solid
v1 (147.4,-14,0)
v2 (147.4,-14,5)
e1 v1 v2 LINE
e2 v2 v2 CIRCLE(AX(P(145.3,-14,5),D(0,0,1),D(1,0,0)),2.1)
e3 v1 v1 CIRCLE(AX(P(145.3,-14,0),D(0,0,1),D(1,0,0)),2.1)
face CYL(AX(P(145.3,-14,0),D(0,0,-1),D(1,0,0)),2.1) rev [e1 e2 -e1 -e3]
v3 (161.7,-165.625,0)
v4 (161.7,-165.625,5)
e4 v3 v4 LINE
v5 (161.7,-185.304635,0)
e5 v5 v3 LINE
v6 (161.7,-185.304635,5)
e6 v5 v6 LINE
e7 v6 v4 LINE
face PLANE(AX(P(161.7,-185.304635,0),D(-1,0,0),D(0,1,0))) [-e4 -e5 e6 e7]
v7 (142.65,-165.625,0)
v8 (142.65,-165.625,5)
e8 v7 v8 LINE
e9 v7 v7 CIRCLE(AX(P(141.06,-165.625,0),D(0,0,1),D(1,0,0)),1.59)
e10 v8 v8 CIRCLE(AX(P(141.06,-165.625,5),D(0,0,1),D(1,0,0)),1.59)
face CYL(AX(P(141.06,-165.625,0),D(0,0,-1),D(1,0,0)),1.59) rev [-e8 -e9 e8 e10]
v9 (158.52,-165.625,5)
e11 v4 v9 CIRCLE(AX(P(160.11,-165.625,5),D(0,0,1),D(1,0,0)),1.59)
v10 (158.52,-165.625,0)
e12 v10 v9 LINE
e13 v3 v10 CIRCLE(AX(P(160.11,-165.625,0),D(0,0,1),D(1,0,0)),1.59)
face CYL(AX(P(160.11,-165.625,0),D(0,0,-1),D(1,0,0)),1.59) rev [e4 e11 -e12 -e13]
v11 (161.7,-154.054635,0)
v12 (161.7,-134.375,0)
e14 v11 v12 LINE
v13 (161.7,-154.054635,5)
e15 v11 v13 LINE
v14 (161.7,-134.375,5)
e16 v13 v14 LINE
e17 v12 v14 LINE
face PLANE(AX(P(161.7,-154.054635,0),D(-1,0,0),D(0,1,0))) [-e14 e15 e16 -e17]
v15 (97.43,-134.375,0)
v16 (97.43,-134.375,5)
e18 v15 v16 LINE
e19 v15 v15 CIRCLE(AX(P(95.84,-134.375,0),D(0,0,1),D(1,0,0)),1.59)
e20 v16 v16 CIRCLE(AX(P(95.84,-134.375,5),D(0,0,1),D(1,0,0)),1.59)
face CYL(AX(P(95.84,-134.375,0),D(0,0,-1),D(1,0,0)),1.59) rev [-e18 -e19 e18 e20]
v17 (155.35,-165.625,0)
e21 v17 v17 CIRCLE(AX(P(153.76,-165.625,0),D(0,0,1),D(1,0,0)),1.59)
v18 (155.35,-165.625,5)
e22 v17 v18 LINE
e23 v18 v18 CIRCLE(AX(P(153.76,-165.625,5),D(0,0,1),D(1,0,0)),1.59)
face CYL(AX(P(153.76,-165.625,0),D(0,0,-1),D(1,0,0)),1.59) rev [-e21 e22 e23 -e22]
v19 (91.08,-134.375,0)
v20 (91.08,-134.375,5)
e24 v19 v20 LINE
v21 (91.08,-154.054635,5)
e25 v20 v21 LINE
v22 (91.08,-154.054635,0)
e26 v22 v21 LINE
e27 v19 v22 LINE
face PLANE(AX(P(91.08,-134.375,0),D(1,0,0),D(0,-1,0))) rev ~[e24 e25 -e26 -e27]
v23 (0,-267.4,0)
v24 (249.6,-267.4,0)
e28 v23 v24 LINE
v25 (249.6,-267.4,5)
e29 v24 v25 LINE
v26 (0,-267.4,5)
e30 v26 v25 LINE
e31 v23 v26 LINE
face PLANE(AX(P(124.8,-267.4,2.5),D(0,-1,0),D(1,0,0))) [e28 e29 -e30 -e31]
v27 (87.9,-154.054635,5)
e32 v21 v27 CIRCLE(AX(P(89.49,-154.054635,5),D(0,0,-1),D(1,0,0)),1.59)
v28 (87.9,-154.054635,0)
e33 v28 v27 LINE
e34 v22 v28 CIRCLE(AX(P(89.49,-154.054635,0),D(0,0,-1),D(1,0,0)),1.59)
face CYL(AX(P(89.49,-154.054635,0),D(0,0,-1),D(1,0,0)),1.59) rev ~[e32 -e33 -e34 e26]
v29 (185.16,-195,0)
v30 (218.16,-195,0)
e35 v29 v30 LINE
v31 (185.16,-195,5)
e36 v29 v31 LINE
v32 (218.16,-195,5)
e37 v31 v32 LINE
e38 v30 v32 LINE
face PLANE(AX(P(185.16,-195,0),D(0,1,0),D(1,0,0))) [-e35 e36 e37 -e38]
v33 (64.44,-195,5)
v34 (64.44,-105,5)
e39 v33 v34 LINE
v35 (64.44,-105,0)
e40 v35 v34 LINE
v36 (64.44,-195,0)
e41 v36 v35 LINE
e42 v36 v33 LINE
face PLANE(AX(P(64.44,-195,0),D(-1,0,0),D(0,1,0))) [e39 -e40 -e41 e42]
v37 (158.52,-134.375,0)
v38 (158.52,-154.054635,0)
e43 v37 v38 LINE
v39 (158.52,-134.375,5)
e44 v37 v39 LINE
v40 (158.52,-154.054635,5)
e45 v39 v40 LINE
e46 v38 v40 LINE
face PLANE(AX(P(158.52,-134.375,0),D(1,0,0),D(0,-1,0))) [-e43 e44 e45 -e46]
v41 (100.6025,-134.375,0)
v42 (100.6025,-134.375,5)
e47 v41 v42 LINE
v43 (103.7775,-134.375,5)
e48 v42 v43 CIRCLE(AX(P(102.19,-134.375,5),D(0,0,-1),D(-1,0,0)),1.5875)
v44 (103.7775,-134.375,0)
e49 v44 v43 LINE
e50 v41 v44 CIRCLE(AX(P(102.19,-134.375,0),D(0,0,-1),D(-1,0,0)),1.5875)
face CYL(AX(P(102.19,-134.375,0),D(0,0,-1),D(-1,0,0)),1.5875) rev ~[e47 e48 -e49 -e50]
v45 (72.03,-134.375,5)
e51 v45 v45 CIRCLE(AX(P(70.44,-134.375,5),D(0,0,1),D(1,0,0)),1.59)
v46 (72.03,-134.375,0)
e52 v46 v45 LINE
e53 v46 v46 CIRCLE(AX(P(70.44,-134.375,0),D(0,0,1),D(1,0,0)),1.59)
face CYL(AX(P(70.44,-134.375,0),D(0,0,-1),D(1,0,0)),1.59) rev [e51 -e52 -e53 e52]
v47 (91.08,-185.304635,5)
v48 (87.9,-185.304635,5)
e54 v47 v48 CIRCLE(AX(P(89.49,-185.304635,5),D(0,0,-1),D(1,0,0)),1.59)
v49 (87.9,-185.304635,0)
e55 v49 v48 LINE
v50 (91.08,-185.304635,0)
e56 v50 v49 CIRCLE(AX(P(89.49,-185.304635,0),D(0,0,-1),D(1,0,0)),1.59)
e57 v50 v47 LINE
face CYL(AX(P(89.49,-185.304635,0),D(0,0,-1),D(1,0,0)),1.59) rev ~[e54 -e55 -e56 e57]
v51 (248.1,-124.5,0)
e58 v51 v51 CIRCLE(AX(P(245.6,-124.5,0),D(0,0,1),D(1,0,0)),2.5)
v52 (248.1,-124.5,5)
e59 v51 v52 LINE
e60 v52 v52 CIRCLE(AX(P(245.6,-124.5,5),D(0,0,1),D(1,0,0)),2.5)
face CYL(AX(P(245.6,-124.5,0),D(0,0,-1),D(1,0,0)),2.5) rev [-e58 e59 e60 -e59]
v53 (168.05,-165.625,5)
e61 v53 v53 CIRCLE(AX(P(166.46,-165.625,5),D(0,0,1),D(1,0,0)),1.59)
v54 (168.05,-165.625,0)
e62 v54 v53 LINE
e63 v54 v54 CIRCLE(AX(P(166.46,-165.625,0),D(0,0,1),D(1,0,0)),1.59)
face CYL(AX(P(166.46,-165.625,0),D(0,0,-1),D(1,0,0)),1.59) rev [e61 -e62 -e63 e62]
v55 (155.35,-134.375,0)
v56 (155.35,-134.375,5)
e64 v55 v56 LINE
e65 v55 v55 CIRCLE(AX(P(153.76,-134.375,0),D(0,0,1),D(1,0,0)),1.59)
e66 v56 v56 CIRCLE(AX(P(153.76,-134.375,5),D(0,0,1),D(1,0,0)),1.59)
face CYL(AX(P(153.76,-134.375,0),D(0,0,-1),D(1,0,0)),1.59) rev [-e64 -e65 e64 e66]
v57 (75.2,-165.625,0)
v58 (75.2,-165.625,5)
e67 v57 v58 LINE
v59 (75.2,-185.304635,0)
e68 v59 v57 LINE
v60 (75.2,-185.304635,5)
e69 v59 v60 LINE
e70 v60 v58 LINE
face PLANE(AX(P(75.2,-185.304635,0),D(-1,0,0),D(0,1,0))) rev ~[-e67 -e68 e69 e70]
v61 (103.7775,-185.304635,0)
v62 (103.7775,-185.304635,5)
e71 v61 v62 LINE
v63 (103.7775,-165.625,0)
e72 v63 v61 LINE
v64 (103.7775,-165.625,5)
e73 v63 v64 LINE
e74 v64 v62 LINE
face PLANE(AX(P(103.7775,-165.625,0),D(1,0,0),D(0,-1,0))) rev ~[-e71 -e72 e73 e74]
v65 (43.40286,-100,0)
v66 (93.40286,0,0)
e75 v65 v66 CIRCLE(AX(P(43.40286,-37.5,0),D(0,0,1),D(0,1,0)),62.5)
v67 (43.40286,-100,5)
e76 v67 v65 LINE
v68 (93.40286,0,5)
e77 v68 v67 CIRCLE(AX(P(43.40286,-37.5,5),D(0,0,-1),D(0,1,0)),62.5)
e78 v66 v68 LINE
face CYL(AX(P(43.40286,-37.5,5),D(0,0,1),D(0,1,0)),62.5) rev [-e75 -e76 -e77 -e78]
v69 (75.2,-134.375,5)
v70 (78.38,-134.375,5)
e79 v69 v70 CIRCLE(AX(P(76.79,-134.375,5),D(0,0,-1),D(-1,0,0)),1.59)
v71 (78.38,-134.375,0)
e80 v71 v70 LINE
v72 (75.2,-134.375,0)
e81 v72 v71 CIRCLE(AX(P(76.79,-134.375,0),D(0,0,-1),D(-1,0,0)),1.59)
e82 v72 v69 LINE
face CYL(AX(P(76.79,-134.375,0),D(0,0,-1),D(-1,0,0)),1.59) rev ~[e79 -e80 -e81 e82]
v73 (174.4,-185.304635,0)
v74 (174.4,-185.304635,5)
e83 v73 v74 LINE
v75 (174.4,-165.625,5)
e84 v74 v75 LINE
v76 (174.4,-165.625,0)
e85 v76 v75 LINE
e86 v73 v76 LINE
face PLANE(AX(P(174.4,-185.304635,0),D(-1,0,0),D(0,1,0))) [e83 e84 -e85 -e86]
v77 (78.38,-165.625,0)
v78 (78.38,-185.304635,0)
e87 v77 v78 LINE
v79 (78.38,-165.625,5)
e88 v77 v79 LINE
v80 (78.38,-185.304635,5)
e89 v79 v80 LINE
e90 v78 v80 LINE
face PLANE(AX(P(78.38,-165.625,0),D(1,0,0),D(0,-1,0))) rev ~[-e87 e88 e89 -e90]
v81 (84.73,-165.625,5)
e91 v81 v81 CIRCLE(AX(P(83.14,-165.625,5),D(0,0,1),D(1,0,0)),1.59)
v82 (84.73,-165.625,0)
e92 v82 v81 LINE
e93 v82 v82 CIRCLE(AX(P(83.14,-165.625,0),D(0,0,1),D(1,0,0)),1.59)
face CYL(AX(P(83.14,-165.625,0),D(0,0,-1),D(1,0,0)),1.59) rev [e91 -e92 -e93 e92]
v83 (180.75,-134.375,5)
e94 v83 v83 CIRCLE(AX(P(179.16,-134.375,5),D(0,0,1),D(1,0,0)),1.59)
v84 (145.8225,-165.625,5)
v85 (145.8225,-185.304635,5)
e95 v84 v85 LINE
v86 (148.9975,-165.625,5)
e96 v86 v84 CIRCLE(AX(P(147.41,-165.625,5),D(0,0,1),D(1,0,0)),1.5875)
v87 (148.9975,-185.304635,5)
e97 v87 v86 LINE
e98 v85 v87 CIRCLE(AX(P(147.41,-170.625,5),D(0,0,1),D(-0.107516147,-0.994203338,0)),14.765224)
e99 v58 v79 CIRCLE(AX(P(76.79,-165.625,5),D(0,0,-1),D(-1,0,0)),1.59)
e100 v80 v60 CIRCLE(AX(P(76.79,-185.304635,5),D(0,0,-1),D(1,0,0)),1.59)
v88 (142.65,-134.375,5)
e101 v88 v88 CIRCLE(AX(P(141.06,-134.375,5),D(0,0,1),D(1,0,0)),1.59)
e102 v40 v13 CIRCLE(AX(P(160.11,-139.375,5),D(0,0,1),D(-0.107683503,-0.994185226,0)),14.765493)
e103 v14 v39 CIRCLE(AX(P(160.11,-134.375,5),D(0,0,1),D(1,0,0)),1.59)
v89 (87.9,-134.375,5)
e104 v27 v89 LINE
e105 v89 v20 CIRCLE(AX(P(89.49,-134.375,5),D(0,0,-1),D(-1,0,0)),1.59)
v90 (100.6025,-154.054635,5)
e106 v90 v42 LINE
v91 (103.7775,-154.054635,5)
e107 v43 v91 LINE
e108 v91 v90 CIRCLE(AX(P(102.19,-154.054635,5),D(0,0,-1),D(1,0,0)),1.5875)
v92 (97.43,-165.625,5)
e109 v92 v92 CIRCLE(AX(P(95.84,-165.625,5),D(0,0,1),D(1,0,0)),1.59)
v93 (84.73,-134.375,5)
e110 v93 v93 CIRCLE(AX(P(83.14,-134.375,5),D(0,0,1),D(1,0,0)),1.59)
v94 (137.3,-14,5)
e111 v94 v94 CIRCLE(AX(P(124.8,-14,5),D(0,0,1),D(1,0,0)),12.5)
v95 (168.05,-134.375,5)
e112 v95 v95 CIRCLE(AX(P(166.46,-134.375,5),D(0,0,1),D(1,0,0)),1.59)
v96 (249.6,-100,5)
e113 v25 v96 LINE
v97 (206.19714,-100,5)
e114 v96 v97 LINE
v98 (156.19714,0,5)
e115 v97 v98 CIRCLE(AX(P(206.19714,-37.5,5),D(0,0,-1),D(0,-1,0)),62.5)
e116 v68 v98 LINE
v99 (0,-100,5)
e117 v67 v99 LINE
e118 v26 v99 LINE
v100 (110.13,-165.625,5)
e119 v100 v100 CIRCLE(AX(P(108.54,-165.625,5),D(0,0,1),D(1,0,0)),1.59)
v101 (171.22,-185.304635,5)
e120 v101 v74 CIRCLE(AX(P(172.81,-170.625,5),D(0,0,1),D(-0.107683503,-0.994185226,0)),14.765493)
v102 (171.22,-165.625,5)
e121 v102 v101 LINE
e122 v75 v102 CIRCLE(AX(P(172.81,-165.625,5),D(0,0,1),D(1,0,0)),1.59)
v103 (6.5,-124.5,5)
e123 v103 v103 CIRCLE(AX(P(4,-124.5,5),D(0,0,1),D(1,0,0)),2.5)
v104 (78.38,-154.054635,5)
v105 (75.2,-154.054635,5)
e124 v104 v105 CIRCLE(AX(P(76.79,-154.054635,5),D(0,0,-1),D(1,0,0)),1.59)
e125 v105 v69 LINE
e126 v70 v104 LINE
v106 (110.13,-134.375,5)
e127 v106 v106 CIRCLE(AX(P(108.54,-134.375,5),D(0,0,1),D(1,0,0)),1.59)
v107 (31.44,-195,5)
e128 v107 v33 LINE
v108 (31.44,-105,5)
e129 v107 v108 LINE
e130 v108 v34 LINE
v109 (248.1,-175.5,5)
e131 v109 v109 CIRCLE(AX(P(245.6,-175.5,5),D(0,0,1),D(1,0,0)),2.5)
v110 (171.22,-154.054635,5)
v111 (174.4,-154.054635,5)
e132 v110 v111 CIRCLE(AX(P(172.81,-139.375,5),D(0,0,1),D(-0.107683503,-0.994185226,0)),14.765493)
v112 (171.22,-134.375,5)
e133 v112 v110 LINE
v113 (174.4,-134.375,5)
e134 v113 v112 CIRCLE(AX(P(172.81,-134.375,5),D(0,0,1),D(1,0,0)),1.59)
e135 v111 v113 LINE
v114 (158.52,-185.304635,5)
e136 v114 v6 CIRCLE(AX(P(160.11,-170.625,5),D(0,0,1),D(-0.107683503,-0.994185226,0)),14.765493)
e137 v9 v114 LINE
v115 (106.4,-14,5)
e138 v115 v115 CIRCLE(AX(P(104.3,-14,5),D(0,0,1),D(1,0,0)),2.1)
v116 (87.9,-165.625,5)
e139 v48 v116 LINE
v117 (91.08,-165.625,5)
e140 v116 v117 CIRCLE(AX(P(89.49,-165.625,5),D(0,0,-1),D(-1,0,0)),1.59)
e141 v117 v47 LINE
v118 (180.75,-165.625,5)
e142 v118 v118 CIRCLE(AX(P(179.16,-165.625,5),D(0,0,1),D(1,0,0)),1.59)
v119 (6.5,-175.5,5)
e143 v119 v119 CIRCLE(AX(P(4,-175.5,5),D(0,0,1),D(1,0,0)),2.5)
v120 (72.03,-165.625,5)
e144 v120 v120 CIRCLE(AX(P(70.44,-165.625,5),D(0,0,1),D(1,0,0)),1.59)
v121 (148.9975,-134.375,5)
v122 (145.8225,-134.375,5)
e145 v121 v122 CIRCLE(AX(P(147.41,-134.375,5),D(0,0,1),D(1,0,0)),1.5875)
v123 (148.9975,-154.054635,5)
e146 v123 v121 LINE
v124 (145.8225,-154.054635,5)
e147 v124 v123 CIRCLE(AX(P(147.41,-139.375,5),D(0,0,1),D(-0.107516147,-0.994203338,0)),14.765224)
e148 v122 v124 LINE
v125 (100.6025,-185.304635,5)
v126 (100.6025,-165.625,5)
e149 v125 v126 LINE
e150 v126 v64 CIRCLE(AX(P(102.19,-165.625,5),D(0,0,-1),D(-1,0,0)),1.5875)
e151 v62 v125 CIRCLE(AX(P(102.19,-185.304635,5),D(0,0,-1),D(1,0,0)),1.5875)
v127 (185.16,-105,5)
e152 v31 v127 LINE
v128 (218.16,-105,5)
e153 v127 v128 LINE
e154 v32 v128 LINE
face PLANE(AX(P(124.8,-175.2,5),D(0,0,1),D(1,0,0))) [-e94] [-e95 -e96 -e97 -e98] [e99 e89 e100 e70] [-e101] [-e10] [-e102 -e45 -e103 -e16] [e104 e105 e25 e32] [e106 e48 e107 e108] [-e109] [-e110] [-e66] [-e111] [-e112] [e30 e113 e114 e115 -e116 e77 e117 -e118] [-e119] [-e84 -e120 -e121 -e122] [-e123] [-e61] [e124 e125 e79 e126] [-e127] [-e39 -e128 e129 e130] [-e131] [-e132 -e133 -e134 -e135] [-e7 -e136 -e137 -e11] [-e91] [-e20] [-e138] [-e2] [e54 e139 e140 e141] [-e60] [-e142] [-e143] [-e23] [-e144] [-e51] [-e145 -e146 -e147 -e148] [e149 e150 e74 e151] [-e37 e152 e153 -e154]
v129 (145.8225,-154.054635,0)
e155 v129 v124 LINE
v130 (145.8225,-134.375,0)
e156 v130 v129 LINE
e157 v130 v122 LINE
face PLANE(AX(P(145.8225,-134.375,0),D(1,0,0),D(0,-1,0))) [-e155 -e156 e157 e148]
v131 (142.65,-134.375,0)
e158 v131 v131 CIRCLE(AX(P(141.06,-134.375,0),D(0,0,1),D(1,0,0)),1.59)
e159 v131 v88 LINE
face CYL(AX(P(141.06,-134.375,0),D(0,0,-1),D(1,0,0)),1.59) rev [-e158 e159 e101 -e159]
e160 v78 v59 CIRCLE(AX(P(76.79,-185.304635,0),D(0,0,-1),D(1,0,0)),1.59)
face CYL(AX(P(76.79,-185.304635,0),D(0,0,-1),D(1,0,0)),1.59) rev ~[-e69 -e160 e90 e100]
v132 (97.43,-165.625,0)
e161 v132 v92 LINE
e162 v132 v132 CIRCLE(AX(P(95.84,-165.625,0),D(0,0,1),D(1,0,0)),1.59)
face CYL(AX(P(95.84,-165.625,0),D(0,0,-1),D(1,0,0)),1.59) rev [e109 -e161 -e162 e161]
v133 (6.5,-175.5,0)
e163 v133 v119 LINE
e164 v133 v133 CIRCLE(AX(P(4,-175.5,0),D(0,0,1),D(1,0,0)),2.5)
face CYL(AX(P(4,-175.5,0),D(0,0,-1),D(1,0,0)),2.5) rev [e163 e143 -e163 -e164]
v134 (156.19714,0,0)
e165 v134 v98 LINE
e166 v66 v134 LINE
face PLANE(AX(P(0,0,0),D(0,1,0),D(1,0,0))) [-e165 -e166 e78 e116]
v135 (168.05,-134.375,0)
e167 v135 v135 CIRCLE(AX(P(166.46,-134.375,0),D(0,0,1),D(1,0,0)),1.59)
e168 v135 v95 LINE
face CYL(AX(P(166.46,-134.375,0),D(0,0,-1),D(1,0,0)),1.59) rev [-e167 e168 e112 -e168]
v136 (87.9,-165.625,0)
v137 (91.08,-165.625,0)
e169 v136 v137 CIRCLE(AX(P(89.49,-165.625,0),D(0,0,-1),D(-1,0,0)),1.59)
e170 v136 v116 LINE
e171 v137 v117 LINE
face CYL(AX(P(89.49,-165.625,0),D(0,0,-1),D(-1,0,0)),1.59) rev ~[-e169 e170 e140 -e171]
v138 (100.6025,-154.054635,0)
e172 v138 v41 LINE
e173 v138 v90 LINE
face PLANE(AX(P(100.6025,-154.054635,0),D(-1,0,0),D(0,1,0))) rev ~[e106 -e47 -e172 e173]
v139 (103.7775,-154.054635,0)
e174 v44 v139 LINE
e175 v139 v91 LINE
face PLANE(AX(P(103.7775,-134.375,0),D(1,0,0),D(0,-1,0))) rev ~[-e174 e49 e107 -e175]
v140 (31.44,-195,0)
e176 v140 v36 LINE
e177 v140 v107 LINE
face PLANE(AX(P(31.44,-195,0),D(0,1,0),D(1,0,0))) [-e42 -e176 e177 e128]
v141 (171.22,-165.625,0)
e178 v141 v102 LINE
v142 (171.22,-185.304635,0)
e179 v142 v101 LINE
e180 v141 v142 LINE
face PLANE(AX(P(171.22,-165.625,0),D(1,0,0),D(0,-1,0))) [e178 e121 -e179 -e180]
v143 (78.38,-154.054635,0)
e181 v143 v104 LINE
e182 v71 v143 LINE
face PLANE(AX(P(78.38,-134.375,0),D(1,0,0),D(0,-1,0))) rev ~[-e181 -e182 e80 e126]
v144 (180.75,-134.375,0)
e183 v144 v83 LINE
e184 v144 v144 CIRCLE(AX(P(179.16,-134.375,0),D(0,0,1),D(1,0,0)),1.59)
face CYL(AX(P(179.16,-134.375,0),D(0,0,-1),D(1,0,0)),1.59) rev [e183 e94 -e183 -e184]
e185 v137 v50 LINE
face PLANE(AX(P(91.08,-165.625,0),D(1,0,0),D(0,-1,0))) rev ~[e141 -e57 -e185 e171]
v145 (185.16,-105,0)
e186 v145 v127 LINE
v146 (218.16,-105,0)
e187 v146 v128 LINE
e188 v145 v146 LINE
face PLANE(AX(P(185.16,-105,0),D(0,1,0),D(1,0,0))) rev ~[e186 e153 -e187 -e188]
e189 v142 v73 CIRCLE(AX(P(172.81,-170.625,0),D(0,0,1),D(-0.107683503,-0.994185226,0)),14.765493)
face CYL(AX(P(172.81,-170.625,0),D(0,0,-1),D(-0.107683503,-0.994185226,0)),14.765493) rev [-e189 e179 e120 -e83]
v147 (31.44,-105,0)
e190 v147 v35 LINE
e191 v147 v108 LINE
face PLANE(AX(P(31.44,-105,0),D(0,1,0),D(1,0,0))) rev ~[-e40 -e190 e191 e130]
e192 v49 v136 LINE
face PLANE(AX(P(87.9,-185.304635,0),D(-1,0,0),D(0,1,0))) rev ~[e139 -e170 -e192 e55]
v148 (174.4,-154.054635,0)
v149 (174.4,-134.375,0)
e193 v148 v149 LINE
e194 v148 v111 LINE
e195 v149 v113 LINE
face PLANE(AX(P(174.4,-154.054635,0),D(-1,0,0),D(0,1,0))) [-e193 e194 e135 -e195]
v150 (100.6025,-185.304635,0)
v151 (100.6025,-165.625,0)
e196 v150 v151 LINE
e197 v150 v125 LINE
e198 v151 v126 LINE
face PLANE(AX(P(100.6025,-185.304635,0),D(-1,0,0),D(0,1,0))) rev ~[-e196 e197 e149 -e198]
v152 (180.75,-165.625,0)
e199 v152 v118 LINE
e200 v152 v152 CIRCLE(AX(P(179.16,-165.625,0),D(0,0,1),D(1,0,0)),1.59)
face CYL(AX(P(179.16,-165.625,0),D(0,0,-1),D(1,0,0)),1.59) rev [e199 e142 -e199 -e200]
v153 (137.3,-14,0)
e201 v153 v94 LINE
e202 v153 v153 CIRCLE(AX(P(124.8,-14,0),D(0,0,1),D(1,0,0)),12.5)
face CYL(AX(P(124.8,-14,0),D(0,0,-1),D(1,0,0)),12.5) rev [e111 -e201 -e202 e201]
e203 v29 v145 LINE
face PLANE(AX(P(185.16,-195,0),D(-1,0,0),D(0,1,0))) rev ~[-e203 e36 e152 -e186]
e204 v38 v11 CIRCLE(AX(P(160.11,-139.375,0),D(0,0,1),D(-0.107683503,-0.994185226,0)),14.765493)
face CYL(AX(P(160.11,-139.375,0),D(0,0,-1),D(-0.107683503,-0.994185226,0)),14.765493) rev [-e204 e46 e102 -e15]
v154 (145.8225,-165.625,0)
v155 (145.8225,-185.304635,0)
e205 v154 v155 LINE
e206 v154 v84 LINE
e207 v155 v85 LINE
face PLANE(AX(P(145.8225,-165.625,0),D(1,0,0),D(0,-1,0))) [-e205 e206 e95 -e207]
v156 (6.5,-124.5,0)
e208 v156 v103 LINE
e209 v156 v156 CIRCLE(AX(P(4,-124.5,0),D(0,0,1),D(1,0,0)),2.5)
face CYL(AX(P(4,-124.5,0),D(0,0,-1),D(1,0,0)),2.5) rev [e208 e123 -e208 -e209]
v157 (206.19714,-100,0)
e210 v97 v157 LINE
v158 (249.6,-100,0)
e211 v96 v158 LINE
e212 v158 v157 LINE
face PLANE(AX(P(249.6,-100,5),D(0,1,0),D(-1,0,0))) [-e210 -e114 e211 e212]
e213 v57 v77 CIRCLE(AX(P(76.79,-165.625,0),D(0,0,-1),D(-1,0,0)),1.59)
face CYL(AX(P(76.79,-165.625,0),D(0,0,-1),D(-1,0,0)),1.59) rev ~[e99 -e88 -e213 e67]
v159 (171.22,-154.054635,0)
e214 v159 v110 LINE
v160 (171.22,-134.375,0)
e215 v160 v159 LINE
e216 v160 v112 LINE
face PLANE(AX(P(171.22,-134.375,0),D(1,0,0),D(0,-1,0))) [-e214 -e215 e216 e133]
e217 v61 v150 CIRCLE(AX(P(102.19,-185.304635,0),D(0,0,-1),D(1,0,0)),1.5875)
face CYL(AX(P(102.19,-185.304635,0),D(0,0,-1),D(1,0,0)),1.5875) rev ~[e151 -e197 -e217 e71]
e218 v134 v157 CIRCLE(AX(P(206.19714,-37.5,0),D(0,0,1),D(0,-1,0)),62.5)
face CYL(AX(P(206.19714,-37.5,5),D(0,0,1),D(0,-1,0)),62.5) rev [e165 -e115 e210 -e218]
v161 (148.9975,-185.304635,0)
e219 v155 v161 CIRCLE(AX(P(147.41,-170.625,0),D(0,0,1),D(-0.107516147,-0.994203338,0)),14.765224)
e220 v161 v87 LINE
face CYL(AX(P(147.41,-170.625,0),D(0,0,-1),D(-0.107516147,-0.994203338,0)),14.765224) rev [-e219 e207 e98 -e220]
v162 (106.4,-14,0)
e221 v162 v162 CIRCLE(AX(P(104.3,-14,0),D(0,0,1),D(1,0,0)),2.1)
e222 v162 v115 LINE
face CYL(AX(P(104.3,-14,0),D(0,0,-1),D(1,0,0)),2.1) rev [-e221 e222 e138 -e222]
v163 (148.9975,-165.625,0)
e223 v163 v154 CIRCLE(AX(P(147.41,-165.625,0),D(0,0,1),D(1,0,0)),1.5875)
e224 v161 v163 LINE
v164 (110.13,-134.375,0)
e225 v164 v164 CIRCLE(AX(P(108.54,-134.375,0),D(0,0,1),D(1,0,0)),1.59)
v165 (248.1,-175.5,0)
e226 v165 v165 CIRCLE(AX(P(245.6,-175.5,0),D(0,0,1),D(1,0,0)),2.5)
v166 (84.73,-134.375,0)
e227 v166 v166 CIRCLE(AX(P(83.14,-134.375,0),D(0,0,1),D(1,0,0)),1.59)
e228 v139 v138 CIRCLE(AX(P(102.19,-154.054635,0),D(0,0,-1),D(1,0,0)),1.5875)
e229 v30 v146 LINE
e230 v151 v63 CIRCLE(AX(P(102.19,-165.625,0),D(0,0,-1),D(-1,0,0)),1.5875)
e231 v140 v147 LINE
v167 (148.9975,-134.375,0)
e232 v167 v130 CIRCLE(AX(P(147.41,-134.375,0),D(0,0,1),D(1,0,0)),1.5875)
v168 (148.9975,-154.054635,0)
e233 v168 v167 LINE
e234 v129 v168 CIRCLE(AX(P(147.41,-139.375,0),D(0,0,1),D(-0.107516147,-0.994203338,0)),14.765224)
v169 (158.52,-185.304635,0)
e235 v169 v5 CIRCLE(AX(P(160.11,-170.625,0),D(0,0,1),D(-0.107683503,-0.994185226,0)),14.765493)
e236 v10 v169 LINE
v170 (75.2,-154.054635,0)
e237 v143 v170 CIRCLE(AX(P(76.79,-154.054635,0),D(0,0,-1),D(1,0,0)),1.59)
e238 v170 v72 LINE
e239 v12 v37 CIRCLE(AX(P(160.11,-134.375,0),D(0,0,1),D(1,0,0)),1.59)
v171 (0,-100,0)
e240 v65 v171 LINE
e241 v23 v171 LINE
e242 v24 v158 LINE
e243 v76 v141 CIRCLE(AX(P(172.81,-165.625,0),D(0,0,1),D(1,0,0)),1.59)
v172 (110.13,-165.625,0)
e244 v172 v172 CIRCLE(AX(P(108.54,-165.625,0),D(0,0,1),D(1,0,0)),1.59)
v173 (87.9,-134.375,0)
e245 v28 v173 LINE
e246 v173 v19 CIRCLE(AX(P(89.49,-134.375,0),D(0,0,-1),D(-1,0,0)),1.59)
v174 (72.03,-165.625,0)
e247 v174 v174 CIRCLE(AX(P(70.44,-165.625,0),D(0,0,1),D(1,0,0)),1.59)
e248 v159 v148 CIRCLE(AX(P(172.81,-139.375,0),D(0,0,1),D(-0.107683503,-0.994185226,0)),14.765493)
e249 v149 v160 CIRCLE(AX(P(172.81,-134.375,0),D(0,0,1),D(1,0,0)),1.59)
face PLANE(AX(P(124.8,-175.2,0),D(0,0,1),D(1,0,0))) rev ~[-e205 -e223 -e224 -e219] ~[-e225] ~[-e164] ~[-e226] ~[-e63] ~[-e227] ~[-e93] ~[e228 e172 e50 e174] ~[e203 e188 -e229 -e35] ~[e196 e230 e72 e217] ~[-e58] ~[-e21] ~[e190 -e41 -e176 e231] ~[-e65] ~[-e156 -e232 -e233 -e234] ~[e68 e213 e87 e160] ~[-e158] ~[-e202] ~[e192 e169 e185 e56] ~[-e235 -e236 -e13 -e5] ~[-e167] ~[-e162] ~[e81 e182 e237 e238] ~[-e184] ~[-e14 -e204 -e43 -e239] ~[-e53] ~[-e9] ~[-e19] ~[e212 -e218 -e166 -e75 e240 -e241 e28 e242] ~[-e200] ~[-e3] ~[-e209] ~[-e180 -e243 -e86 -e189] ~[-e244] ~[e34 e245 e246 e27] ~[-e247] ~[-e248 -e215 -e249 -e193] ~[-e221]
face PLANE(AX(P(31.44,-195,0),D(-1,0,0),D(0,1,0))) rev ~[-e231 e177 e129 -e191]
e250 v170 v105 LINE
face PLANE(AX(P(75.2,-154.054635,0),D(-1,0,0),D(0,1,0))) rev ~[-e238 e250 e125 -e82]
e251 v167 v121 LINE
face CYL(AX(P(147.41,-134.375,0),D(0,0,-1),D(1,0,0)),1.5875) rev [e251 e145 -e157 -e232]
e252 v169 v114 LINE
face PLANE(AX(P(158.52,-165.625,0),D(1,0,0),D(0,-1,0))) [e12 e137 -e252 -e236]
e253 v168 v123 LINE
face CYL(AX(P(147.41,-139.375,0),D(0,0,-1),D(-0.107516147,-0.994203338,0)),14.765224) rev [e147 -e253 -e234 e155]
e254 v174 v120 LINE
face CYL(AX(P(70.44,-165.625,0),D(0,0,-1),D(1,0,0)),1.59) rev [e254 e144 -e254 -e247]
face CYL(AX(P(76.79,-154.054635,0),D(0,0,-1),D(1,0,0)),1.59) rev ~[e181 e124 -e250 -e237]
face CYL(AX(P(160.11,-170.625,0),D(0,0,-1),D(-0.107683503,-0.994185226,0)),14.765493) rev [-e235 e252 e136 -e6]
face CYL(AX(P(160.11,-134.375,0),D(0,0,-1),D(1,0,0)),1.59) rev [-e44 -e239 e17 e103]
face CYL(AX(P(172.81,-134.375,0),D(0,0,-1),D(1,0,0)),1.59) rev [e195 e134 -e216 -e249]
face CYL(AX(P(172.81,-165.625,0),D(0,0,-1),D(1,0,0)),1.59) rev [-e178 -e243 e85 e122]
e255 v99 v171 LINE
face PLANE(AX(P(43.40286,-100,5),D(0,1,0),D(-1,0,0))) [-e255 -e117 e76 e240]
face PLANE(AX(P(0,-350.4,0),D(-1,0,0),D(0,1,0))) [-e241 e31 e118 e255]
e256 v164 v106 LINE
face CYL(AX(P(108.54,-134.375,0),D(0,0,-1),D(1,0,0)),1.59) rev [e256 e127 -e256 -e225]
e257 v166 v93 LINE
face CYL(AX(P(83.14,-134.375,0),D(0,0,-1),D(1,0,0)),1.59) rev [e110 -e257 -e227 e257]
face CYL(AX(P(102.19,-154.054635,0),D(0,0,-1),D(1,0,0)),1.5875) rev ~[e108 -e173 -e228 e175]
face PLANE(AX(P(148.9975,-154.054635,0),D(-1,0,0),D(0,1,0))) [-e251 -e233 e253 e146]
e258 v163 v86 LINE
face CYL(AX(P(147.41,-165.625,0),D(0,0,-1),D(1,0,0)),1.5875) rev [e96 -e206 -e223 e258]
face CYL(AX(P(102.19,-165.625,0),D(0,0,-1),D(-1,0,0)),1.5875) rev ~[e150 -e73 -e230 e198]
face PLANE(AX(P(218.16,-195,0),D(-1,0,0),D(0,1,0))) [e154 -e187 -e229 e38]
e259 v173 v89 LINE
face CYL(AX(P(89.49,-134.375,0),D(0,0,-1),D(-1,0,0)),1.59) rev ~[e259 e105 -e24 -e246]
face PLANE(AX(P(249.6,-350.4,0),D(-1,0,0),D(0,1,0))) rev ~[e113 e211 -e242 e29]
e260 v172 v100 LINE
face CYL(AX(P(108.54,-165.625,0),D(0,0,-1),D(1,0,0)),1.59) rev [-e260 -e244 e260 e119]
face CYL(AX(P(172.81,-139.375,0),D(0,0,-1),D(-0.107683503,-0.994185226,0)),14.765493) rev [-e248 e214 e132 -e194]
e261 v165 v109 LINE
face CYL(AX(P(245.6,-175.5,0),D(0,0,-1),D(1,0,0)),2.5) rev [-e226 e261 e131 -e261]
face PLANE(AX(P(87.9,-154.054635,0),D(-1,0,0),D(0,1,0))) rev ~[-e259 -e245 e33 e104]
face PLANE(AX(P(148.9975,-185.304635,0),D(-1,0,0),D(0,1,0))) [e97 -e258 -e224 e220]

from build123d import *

# Parameters (mm, degrees)
SKETCH1_W           = 249.6
SKETCH1_H           = 350.4
SKETCH1_R           = 2.1
SKETCH1_R_2         = 2.5
SKETCH1_R_3         = 1.59
SKETCH1_R_4         = 12.5
SKETCH1_W_2         = 33
SKETCH1_H_2         = 90
BOSS_EXTRUDE1_DEPTH = 5
SKETCH12_W          = 249.6
SKETCH12_H          = 5
CUT_EXTRUDE2_DEPTH  = 83
CUT_EXTRUDE3_DEPTH  = 6


with BuildPart() as part:
    # Sketch1 → Boss-Extrude1 (new body)
    with BuildSketch(Plane.XY):
        with Locations((124.8, -175.2)):
            Rectangle(SKETCH1_W, SKETCH1_H)
        with Locations((104.3, -14)):
            Circle(SKETCH1_R, mode=Mode.SUBTRACT)
        with Locations((245.6, -124.5)):
            Circle(SKETCH1_R_2, mode=Mode.SUBTRACT)
        with Locations((245.6, -175.5)):
            Circle(SKETCH1_R_2, mode=Mode.SUBTRACT)
        with Locations((145.3, -14)):
            Circle(SKETCH1_R, mode=Mode.SUBTRACT)
        with Locations((179.16, -134.375)):
            Circle(SKETCH1_R_3, mode=Mode.SUBTRACT)
        with Locations((179.16, -165.625)):
            Circle(SKETCH1_R_3, mode=Mode.SUBTRACT)
        with Locations((124.8, -14)):
            Circle(SKETCH1_R_4, mode=Mode.SUBTRACT)
        with Locations((141.06, -134.375)):
            Circle(SKETCH1_R_3, mode=Mode.SUBTRACT)
        with Locations((153.76, -134.375)):
            Circle(SKETCH1_R_3, mode=Mode.SUBTRACT)
        with Locations((166.46, -134.375)):
            Circle(SKETCH1_R_3, mode=Mode.SUBTRACT)
        with Locations((141.06, -165.625)):
            Circle(SKETCH1_R_3, mode=Mode.SUBTRACT)
        with Locations((153.76, -165.625)):
            Circle(SKETCH1_R_3, mode=Mode.SUBTRACT)
        with Locations((166.46, -165.625)):
            Circle(SKETCH1_R_3, mode=Mode.SUBTRACT)
        with Locations((83.14, -165.625)):
            Circle(SKETCH1_R_3, mode=Mode.SUBTRACT)
        with Locations((95.84, -165.625)):
            Circle(SKETCH1_R_3, mode=Mode.SUBTRACT)
        with Locations((108.54, -165.625)):
            Circle(SKETCH1_R_3, mode=Mode.SUBTRACT)
        with Locations((83.14, -134.375)):
            Circle(SKETCH1_R_3, mode=Mode.SUBTRACT)
        with Locations((95.84, -134.375)):
            Circle(SKETCH1_R_3, mode=Mode.SUBTRACT)
        with Locations((108.54, -134.375)):
            Circle(SKETCH1_R_3, mode=Mode.SUBTRACT)
        with Locations((70.44, -165.625)):
            Circle(SKETCH1_R_3, mode=Mode.SUBTRACT)
        with Locations((70.44, -134.375)):
            Circle(SKETCH1_R_3, mode=Mode.SUBTRACT)
        with Locations((4, -175.5)):
            Circle(SKETCH1_R_2, mode=Mode.SUBTRACT)
        with Locations((4, -124.5)):
            Circle(SKETCH1_R_2, mode=Mode.SUBTRACT)
        with Locations((201.66, -150)):
            Rectangle(SKETCH1_W_2, SKETCH1_H_2, mode=Mode.SUBTRACT)
        with BuildLine():
            Line((145.8225, -134.375), (145.8225, -154.054634918))
            ThreePointArc((145.8225, -154.054634918), (147.41, -154.140223925), (148.9975, -154.054634918))
            Line((148.9975, -154.054634918), (148.9975, -134.375))
            ThreePointArc((148.9975, -134.375), (147.41, -132.7875), (145.8225, -134.375))
        make_face(mode=Mode.SUBTRACT)
        with BuildLine():
            Line((158.52, -134.375), (158.52, -154.054634918))
            ThreePointArc((158.52, -154.054634918), (160.11, -154.140492925), (161.7, -154.054634918))
            Line((161.7, -154.054634918), (161.7, -134.375))
            ThreePointArc((161.7, -134.375), (160.11, -132.785), (158.52, -134.375))
        make_face(mode=Mode.SUBTRACT)
        with BuildLine():
            Line((171.22, -134.375), (171.22, -154.054634918))
            ThreePointArc((171.22, -154.054634918), (172.81, -154.140492925), (174.4, -154.054634918))
            Line((174.4, -154.054634918), (174.4, -134.375))
            ThreePointArc((174.4, -134.375), (172.81, -132.785), (171.22, -134.375))
        make_face(mode=Mode.SUBTRACT)
        with BuildLine():
            Line((145.8225, -165.625), (145.8225, -185.304634918))
            ThreePointArc((145.8225, -185.304634918), (147.41, -185.390223925), (148.9975, -185.304634918))
            Line((148.9975, -185.304634918), (148.9975, -165.625))
            ThreePointArc((148.9975, -165.625), (147.41, -164.0375), (145.8225, -165.625))
        make_face(mode=Mode.SUBTRACT)
        with BuildLine():
            Line((158.52, -165.625), (158.52, -185.304634918))
            ThreePointArc((158.52, -185.304634918), (160.11, -185.390492925), (161.7, -185.304634918))
            Line((161.7, -185.304634918), (161.7, -165.625))
            ThreePointArc((161.7, -165.625), (160.11, -164.035), (158.52, -165.625))
        make_face(mode=Mode.SUBTRACT)
        with BuildLine():
            Line((171.22, -165.625), (171.22, -185.304634918))
            ThreePointArc((171.22, -185.304634918), (172.81, -185.390492925), (174.4, -185.304634918))
            Line((174.4, -185.304634918), (174.4, -165.625))
            ThreePointArc((174.4, -165.625), (172.81, -164.035), (171.22, -165.625))
        make_face(mode=Mode.SUBTRACT)
        with BuildLine():
            Line((103.7775, -134.375), (103.7775, -154.054634918))
            ThreePointArc((103.7775, -154.054634918), (102.19, -155.642134918), (100.6025, -154.054634918))
            Line((100.6025, -154.054634918), (100.6025, -134.375))
            ThreePointArc((100.6025, -134.375), (102.19, -132.7875), (103.7775, -134.375))
        make_face(mode=Mode.SUBTRACT)
        with BuildLine():
            Line((91.08, -134.375), (91.08, -154.054634918))
            ThreePointArc((91.08, -154.054634918), (89.49, -155.644634918), (87.9, -154.054634918))
            Line((87.9, -154.054634918), (87.9, -134.375))
            ThreePointArc((87.9, -134.375), (89.49, -132.785), (91.08, -134.375))
        make_face(mode=Mode.SUBTRACT)
        with BuildLine():
            Line((78.38, -134.375), (78.38, -154.054634918))
            ThreePointArc((78.38, -154.054634918), (76.79, -155.644634918), (75.2, -154.054634918))
            Line((75.2, -154.054634918), (75.2, -134.375))
            ThreePointArc((75.2, -134.375), (76.79, -132.785), (78.38, -134.375))
        make_face(mode=Mode.SUBTRACT)
        with BuildLine():
            Line((103.7775, -165.625), (103.7775, -185.304634918))
            ThreePointArc((103.7775, -185.304634918), (102.19, -186.892134918), (100.6025, -185.304634918))
            Line((100.6025, -185.304634918), (100.6025, -165.625))
            ThreePointArc((100.6025, -165.625), (102.19, -164.0375), (103.7775, -165.625))
        make_face(mode=Mode.SUBTRACT)
        with BuildLine():
            Line((91.08, -165.625), (91.08, -185.304634918))
            ThreePointArc((91.08, -185.304634918), (89.49, -186.894634918), (87.9, -185.304634918))
            Line((87.9, -185.304634918), (87.9, -165.625))
            ThreePointArc((87.9, -165.625), (89.49, -164.035), (91.08, -165.625))
        make_face(mode=Mode.SUBTRACT)
        with BuildLine():
            Line((78.38, -165.625), (78.38, -185.304634918))
            ThreePointArc((78.38, -185.304634918), (76.79, -186.894634918), (75.2, -185.304634918))
            Line((75.2, -185.304634918), (75.2, -165.625))
            ThreePointArc((75.2, -165.625), (76.79, -164.035), (78.38, -165.625))
        make_face(mode=Mode.SUBTRACT)
        with Locations((47.94, -150)):
            Rectangle(SKETCH1_W_2, SKETCH1_H_2, mode=Mode.SUBTRACT)
    extrude(amount=BOSS_EXTRUDE1_DEPTH)

    # Sketch12 → Cut-Extrude2 (cut)
    with BuildSketch(Plane.XZ.offset(350.4)):
        with Locations((124.8, 2.5)):
            Rectangle(SKETCH12_W, SKETCH12_H)
    extrude(amount=-CUT_EXTRUDE2_DEPTH, mode=Mode.SUBTRACT)

    # Sketch13 → Cut-Extrude3 (cut, through all)
    with BuildSketch(Plane.XY.offset(5)):
        with BuildLine():
            Line((43.402860001, -100), (0, -100))
            Line((0, -100), (0, 25))
            Line((0, 25), (43.402860001, 25))
            ThreePointArc((43.402860001, 25), (105.902860001, -37.5), (43.402860001, -100))
        make_face()
        with BuildLine():
            Line((206.197139999, 25), (249.6, 25))
            Line((249.6, 25), (249.6, -100))
            Line((249.6, -100), (206.197139999, -100))
            ThreePointArc((206.197139999, -100), (143.697139999, -37.5), (206.197139999, 25))
        make_face()
    extrude(amount=-CUT_EXTRUDE3_DEPTH, mode=Mode.SUBTRACT)


solid = part.part
